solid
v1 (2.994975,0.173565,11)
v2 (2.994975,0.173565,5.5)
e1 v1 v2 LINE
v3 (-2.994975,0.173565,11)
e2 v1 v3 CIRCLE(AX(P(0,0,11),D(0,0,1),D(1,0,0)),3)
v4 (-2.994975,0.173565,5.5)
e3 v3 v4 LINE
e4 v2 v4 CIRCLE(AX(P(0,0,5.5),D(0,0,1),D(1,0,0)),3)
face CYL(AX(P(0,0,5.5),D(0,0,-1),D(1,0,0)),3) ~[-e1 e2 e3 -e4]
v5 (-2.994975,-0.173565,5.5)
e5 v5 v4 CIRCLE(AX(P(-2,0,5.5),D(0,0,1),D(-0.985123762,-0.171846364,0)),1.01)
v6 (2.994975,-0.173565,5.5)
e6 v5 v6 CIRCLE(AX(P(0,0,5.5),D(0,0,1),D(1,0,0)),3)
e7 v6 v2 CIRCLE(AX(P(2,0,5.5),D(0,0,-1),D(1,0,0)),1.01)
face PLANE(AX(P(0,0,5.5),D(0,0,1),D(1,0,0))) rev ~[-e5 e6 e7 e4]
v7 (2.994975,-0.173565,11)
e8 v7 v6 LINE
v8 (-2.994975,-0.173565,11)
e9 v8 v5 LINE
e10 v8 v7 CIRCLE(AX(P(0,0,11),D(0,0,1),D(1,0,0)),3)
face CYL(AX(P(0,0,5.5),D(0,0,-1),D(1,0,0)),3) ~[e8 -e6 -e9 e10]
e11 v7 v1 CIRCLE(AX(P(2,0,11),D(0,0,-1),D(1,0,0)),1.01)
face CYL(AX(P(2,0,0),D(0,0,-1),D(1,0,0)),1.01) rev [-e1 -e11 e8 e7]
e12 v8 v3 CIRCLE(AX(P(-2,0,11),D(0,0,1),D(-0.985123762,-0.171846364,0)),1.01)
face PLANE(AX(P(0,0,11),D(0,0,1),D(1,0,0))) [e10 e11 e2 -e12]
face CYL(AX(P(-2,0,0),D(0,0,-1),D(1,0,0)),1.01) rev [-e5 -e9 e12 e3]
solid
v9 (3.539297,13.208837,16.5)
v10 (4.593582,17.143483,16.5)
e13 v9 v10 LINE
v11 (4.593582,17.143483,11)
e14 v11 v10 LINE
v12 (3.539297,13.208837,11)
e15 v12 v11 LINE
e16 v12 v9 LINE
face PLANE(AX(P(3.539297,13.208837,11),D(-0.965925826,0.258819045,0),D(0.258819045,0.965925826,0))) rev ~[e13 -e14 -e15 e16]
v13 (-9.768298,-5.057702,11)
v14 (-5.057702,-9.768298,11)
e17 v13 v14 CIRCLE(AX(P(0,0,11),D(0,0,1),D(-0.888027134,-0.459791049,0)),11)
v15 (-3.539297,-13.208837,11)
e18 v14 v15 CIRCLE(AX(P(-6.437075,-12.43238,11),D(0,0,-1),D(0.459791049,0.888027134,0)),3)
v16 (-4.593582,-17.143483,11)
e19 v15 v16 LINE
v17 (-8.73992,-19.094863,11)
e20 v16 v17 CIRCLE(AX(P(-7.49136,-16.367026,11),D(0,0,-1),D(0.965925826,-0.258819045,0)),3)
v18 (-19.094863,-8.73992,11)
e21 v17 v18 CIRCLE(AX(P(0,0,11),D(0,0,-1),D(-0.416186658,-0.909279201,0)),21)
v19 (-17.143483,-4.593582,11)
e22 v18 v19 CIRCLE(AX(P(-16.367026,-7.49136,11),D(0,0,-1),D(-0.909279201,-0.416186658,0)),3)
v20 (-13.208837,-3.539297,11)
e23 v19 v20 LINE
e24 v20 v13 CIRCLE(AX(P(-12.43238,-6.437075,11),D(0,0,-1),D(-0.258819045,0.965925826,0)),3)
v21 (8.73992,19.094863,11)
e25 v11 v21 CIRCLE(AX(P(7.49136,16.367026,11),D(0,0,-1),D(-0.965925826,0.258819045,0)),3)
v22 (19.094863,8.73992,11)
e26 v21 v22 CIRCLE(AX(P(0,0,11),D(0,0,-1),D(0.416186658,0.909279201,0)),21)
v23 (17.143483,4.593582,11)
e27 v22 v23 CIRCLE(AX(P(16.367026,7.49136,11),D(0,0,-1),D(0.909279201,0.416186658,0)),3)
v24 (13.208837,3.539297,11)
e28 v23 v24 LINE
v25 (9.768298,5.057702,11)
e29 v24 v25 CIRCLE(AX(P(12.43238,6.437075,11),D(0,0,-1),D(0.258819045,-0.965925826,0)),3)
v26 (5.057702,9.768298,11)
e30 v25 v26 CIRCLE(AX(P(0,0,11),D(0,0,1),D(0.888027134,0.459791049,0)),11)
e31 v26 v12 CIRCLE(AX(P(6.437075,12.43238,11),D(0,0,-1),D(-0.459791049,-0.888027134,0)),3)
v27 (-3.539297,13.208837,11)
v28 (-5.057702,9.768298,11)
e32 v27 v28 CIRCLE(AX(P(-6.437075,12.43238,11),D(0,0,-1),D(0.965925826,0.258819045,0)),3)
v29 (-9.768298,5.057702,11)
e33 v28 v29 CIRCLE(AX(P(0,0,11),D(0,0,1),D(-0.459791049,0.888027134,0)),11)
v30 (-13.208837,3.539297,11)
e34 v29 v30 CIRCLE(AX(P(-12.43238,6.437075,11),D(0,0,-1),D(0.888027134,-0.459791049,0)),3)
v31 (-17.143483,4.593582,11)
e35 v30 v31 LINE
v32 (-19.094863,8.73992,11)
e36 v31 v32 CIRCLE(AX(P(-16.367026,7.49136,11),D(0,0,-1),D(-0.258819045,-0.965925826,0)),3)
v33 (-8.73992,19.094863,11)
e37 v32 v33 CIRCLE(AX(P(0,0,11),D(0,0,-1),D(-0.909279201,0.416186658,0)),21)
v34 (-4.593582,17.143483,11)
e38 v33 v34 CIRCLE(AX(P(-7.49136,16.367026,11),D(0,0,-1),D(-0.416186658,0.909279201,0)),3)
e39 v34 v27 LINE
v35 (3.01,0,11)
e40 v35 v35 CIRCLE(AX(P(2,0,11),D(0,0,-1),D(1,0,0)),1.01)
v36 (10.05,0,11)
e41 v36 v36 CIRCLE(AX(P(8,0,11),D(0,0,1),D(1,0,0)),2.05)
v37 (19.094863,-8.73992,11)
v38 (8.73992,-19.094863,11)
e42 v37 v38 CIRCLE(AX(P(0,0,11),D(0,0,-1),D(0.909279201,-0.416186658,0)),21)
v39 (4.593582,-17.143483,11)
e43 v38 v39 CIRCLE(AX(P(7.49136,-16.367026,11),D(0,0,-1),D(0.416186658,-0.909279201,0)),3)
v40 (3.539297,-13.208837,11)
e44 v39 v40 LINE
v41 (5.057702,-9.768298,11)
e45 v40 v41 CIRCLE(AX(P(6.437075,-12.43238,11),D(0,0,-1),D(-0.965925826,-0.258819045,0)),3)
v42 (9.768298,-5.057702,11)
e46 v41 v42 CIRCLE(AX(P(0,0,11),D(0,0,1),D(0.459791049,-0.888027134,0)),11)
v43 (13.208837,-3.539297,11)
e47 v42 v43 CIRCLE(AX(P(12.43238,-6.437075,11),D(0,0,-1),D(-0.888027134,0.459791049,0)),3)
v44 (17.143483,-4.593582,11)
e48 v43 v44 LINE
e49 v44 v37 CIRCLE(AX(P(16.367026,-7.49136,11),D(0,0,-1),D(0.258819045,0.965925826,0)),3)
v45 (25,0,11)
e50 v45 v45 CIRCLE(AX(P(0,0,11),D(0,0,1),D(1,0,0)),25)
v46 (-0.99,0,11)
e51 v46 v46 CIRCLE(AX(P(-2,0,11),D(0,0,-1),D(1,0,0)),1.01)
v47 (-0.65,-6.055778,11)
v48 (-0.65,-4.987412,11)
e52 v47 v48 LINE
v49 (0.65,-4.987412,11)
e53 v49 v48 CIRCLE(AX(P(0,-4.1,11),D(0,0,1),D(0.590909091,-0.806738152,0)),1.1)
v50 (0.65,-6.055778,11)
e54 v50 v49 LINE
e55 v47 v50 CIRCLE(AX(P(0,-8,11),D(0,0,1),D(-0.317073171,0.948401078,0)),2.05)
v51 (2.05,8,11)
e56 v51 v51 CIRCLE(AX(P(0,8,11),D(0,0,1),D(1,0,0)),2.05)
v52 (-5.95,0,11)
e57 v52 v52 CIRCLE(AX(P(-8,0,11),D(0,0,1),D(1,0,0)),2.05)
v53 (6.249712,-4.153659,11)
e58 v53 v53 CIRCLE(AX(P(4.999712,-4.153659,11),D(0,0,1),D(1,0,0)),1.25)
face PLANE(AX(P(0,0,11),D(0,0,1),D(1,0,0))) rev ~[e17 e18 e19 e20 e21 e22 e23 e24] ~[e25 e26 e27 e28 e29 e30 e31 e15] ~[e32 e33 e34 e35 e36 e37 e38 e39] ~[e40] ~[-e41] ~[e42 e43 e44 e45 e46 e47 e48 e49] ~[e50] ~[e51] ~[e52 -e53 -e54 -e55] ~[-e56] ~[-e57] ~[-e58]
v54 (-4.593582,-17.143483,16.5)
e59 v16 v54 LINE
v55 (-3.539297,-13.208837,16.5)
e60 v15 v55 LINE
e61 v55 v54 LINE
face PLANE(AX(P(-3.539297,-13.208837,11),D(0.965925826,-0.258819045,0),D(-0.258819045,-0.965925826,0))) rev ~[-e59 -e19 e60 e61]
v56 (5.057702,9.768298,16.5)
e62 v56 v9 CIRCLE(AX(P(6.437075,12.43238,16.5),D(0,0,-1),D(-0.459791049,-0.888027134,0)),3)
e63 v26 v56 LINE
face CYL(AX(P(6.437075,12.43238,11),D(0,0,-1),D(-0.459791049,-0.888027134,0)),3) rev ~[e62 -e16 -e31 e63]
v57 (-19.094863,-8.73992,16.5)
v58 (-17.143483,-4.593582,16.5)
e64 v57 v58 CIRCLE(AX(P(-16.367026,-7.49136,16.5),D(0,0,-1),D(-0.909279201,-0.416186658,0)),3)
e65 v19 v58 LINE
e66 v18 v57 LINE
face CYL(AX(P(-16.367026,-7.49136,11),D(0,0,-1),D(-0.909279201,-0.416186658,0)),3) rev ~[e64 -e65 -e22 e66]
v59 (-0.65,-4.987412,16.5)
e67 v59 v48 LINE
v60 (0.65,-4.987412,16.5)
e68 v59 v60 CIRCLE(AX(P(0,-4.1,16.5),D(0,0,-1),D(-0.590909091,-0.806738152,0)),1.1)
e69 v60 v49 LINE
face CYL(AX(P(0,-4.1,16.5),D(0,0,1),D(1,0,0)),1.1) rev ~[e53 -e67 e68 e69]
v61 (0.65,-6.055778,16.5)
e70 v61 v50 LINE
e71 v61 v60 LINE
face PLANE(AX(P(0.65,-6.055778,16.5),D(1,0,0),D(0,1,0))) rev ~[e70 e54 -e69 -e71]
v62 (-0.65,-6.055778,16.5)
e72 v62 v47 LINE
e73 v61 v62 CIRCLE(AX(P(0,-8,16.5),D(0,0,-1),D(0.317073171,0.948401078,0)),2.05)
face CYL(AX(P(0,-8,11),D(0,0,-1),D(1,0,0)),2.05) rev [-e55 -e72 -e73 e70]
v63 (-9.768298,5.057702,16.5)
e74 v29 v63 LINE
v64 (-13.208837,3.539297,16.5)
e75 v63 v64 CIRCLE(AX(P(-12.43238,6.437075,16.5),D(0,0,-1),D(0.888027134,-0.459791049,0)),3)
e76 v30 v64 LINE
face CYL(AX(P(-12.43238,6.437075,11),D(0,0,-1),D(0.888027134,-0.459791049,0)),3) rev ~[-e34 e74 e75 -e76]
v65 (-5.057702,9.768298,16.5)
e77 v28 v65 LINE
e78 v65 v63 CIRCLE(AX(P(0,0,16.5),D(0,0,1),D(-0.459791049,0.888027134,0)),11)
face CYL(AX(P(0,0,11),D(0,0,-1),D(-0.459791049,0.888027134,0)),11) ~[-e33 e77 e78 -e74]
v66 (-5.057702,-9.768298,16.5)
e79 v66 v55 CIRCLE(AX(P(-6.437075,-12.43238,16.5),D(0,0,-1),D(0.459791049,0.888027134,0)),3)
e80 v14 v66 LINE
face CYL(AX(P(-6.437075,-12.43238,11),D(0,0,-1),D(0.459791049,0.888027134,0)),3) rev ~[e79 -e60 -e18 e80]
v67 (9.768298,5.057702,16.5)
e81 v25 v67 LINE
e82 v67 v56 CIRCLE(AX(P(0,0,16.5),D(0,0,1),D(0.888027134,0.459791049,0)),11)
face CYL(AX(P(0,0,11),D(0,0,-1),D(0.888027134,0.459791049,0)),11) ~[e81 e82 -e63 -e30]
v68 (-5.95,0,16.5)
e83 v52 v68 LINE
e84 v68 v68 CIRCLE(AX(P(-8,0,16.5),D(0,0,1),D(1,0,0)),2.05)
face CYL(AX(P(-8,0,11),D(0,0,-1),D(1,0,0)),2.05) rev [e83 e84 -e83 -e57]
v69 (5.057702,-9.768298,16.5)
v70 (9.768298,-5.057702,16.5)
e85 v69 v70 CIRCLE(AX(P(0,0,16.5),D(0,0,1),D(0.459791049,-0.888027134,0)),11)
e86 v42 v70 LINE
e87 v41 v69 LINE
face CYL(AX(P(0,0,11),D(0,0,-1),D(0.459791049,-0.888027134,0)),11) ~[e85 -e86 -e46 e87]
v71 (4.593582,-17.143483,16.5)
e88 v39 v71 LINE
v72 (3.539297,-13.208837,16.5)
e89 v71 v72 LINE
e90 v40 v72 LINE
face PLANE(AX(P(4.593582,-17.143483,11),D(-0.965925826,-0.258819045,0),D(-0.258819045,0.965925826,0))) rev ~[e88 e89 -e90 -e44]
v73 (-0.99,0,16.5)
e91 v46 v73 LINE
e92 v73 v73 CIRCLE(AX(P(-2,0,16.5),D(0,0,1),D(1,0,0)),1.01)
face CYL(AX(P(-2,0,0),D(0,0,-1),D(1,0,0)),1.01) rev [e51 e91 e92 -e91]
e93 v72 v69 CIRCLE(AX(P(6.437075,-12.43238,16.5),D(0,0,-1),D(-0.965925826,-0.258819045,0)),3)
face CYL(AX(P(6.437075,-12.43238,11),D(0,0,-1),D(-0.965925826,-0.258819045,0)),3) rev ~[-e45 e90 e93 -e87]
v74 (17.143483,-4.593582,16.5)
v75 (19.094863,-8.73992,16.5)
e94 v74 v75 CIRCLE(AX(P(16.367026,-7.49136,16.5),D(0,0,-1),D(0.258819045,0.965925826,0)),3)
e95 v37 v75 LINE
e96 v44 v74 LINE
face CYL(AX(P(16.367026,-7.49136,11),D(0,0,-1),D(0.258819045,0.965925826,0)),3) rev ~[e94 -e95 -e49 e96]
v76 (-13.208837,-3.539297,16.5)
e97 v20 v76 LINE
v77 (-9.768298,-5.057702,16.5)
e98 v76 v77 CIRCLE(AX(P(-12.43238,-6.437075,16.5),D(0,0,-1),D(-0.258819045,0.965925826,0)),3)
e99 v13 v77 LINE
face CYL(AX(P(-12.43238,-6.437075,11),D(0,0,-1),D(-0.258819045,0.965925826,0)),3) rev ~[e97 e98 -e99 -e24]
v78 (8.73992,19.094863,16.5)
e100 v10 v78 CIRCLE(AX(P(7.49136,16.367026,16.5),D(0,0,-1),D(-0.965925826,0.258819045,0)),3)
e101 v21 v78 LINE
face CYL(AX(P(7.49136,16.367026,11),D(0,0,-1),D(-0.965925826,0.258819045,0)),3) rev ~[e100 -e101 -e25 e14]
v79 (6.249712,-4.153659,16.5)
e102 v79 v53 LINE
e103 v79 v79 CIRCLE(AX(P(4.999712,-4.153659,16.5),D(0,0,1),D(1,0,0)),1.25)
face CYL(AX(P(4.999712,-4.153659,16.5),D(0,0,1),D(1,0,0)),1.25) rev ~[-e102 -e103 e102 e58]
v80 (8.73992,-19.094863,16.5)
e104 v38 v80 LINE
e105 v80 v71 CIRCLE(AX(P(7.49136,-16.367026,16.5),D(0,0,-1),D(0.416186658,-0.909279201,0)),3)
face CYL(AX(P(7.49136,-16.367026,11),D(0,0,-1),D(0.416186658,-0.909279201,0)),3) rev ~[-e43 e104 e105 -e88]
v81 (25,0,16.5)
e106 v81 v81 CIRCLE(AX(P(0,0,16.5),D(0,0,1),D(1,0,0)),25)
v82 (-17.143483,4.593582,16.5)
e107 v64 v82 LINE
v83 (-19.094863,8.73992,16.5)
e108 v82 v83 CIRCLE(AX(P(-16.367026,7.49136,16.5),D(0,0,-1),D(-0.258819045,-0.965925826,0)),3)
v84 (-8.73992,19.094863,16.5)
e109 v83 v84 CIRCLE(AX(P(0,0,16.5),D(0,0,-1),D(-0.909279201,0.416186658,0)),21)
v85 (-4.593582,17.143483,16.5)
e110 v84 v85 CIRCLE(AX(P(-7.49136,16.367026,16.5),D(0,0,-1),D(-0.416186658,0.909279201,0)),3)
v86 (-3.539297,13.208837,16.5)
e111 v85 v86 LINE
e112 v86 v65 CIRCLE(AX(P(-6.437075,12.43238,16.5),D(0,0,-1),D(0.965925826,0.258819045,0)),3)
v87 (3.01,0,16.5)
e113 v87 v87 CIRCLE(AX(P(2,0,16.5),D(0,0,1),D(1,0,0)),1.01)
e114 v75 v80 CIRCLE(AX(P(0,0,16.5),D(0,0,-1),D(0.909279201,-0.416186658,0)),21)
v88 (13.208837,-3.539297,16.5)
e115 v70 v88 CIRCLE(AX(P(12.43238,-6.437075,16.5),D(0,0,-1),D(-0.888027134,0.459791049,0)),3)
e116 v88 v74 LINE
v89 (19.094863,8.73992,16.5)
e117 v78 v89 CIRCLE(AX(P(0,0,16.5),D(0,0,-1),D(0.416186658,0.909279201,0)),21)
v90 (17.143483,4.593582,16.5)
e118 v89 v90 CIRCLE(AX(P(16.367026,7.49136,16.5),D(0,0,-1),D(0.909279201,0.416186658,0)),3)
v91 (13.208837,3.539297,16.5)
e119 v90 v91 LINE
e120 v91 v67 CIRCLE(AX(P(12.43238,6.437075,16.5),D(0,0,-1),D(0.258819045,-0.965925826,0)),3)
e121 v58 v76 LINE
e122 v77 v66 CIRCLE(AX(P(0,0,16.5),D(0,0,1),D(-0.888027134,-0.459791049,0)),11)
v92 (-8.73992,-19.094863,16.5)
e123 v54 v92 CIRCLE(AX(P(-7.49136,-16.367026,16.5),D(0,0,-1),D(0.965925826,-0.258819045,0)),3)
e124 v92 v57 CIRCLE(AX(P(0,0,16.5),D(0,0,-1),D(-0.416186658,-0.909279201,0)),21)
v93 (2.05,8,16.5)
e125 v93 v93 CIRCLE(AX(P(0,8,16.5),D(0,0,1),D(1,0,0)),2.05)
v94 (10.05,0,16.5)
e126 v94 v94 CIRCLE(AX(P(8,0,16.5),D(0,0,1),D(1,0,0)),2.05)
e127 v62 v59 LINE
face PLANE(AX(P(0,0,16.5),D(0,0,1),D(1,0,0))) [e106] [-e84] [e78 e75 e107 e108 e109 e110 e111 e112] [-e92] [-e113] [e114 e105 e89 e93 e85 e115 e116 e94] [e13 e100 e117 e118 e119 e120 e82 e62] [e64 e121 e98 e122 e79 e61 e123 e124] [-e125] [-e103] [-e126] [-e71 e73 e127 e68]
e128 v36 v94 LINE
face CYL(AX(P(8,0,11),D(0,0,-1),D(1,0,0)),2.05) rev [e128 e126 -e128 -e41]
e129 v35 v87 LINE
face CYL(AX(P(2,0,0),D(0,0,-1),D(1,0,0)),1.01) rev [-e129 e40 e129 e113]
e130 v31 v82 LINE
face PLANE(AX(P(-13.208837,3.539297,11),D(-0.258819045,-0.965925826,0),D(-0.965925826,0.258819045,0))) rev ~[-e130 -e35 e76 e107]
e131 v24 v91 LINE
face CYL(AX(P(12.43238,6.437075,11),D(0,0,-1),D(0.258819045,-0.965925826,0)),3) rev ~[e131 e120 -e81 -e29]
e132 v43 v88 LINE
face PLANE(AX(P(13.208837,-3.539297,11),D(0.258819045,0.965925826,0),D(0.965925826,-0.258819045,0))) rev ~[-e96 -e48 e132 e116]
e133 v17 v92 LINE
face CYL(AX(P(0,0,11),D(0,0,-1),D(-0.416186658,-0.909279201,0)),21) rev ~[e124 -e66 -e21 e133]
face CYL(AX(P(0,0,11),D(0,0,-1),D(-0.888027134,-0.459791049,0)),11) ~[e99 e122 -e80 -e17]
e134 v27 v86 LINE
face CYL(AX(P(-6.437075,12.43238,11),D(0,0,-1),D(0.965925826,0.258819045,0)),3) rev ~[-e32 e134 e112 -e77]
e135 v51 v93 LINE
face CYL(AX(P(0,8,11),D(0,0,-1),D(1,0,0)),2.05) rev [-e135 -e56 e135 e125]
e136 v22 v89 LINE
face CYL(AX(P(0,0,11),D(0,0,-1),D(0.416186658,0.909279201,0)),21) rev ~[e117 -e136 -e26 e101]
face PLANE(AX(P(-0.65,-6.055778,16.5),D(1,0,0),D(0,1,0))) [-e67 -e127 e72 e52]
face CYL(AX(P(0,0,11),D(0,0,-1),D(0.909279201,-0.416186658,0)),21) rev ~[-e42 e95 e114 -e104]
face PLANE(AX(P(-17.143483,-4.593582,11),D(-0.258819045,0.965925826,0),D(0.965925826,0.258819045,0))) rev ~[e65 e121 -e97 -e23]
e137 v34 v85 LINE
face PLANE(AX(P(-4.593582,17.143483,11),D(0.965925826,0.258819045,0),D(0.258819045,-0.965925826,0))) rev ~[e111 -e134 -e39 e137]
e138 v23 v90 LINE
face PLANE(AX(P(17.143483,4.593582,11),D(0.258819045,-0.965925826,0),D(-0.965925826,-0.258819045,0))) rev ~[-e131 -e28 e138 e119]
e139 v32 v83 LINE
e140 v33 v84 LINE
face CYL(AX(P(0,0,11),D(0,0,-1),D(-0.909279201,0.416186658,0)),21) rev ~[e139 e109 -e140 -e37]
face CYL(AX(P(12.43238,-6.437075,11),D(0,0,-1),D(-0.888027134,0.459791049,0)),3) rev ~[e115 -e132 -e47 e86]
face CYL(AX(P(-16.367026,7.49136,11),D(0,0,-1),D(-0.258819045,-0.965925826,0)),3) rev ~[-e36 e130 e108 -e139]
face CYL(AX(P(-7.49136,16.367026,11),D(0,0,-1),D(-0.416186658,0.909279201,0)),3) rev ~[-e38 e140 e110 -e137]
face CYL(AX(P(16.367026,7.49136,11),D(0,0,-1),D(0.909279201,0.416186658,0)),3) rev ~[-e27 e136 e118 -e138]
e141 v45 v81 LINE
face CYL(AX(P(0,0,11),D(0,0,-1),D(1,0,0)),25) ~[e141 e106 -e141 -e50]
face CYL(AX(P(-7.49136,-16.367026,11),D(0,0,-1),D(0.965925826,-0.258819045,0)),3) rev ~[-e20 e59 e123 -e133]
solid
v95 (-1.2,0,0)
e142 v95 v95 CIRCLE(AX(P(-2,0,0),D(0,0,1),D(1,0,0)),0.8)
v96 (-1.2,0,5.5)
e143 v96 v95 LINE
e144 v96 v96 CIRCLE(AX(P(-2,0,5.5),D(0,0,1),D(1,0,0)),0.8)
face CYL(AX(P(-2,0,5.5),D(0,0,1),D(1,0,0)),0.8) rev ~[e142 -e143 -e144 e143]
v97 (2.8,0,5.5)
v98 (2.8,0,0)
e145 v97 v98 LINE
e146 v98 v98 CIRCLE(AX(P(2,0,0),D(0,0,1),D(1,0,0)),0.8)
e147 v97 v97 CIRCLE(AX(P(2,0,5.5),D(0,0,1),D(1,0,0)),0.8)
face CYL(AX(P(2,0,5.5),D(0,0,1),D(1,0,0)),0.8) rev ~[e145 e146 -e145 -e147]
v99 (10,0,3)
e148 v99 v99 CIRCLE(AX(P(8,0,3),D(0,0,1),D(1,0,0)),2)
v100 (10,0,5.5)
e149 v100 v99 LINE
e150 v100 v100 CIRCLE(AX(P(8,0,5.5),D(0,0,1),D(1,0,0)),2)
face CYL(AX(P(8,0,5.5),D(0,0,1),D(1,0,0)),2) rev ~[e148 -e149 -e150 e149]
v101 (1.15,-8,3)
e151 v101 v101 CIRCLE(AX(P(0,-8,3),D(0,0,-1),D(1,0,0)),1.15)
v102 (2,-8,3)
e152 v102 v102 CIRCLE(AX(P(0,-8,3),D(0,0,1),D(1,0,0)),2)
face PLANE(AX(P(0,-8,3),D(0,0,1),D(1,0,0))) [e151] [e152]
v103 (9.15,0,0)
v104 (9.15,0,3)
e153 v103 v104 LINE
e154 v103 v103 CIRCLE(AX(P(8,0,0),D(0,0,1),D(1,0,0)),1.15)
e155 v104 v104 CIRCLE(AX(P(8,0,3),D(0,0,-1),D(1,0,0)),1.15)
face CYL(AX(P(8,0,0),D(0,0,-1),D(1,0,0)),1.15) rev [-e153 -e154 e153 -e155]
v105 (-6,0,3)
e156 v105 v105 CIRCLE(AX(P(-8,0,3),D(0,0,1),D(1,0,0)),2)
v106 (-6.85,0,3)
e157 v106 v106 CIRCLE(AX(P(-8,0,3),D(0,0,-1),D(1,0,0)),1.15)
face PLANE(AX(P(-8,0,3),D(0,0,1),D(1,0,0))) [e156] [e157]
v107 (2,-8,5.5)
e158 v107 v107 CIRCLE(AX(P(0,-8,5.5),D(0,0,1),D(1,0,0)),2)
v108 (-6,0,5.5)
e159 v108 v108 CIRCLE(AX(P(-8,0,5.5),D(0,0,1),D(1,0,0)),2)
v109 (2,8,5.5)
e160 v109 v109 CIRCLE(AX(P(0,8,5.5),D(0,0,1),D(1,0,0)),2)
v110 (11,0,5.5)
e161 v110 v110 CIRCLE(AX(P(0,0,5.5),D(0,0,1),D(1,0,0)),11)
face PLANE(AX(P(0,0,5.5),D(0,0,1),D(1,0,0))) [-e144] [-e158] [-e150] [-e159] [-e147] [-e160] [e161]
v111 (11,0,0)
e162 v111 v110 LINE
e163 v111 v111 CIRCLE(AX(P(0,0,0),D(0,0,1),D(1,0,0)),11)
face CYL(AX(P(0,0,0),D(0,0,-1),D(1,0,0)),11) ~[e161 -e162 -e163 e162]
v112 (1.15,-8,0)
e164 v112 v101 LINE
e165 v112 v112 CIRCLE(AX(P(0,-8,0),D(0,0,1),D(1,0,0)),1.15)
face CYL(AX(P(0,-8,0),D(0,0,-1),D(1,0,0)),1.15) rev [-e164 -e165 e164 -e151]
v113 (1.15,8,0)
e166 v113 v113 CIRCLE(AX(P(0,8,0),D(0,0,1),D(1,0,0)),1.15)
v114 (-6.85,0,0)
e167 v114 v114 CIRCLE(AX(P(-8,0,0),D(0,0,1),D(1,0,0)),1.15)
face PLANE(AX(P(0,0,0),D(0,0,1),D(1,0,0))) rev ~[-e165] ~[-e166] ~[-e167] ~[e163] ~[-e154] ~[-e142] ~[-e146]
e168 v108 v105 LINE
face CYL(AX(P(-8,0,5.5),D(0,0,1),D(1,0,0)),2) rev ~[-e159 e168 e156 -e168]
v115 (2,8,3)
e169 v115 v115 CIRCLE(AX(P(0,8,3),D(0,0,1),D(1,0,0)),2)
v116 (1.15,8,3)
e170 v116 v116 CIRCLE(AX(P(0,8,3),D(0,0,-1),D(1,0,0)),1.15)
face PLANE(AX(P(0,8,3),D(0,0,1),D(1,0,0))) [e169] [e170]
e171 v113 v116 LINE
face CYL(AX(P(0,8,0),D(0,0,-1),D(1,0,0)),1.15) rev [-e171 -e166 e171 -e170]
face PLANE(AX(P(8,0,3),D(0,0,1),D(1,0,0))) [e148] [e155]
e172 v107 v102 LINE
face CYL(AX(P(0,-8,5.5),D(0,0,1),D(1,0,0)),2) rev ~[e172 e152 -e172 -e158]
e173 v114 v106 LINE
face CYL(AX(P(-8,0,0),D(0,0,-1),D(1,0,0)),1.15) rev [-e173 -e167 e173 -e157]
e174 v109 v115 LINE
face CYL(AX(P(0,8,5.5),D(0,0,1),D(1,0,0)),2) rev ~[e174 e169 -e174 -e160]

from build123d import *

# Parameters (mm, degrees)
SKETCH_1_R          = 11
SKETCH_1_R_2        = 1.15
EXTRUDE_1_DEPTH     = 5.5
SKETCH_2_R          = 3
EXTRUDE_2_DEPTH     = 5.5
SKETCH_3_R          = 25
SKETCH_3_R_2        = 2.05
EXTRUDE_3_DEPTH     = 5.5
CUT_EXTRUDE_START   = -16.5
SKETCH_8_R          = 1.01
CUT_EXTRUDE_4_DEPTH = 16.5
SKETCH_9_R          = 0.8
CUT_EXTRUDE_5_DEPTH = 5.5
SKETCH_12_R         = 2
CUT_EXTRUDE_7_DEPTH = 2.5
SKETCH_13_R         = 1.1
CUT_EXTRUDE_8_DEPTH = 5.5
SKETCH_14_R         = 1.25
SKETCH_14_W         = 1.3
SKETCH_14_H         = 1.068365823
CUT_EXTRUDE_9_DEPTH = 5.5


with BuildPart() as part:
    # ｽｹｯﾁ1 → ﾎﾞｽ - 押し出し1 (new body)
    with BuildSketch(Plane.XY):
        Circle(SKETCH_1_R)
        with Locations((-8, 0)):
            Circle(SKETCH_1_R_2, mode=Mode.SUBTRACT)
        with Locations((0, 8)):
            Circle(SKETCH_1_R_2, mode=Mode.SUBTRACT)
        with Locations((8, 0)):
            Circle(SKETCH_1_R_2, mode=Mode.SUBTRACT)
        with Locations((0, -8)):
            Circle(SKETCH_1_R_2, mode=Mode.SUBTRACT)
    extrude(amount=EXTRUDE_1_DEPTH)

    # ｽｹｯﾁ9 → ｶｯﾄ - 押し出し5 (cut)
    with BuildSketch(Plane.XY.offset(5.5)):
        with Locations((-2, 0)):
            Circle(SKETCH_9_R)
        with Locations((2, 0)):
            Circle(SKETCH_9_R)
    extrude(amount=-CUT_EXTRUDE_5_DEPTH, mode=Mode.SUBTRACT)

    # ｽｹｯﾁ12 → ｶｯﾄ - 押し出し7 (cut)
    with BuildSketch(Plane.XY.offset(5.5)):
        with Locations((-8, 0)):
            Circle(SKETCH_12_R)
        with Locations((0, 8)):
            Circle(SKETCH_12_R)
        with Locations((8, 0)):
            Circle(SKETCH_12_R)
        with Locations((0, -8)):
            Circle(SKETCH_12_R)
    extrude(amount=-CUT_EXTRUDE_7_DEPTH, mode=Mode.SUBTRACT)


with BuildPart() as body_2:
    # ｽｹｯﾁ2 → ﾎﾞｽ - 押し出し2 (new body)
    with BuildSketch(Plane.XY.offset(5.5)):
        Circle(SKETCH_2_R)
    extrude(amount=EXTRUDE_2_DEPTH)


with BuildPart() as body_3:
    # ｽｹｯﾁ3 → ﾎﾞｽ - 押し出し3 (new body)
    with BuildSketch(Plane.XY.offset(11)):
        Circle(SKETCH_3_R)
        with Locations((-8, 0)):
            Circle(SKETCH_3_R_2, mode=Mode.SUBTRACT)
        with Locations((0, 8)):
            Circle(SKETCH_3_R_2, mode=Mode.SUBTRACT)
        with Locations((8, 0)):
            Circle(SKETCH_3_R_2, mode=Mode.SUBTRACT)
        with Locations((0, -8)):
            Circle(SKETCH_3_R_2, mode=Mode.SUBTRACT)
        with BuildLine():
            Line((3.539297211, 13.208837014), (4.593582361, 17.143482759))
            ThreePointArc((4.593582361, 17.143482759), (6.213881453, 19.081440656), (8.739919813, 19.094863227))
            ThreePointArc((8.739919813, 19.094863227), (14.849242405, 14.849242405), (19.094863227, 8.739919813))
            ThreePointArc((19.094863227, 8.739919813), (19.081440656, 6.213881453), (17.143482759, 4.593582361))
            Line((17.143482759, 4.593582361), (13.208837014, 3.539297211))
            ThreePointArc((13.208837014, 3.539297211), (11.221112248, 3.692474404), (9.768298476, 5.057701542))
            ThreePointArc((9.768298476, 5.057701542), (7.778174593, 7.778174593), (5.057701542, 9.768298476))
            ThreePointArc((5.057701542, 9.768298476), (3.692474404, 11.221112248), (3.539297211, 13.208837014))
        make_face(mode=Mode.SUBTRACT)
        with BuildLine():
            Line((13.208837014, -3.539297211), (17.143482759, -4.593582361))
            ThreePointArc((17.143482759, -4.593582361), (19.081440656, -6.213881453), (19.094863227, -8.739919813))
            ThreePointArc((19.094863227, -8.739919813), (14.849242405, -14.849242405), (8.739919813, -19.094863227))
            ThreePointArc((8.739919813, -19.094863227), (6.213881453, -19.081440656), (4.593582361, -17.143482759))
            Line((4.593582361, -17.143482759), (3.539297211, -13.208837014))
            ThreePointArc((3.539297211, -13.208837014), (3.692474404, -11.221112248), (5.057701542, -9.768298476))
            ThreePointArc((5.057701542, -9.768298476), (7.778174593, -7.778174593), (9.768298476, -5.057701542))
            ThreePointArc((9.768298476, -5.057701542), (11.221112248, -3.692474404), (13.208837014, -3.539297211))
        make_face(mode=Mode.SUBTRACT)
        with BuildLine():
            Line((-3.539297211, -13.208837014), (-4.593582361, -17.143482759))
            ThreePointArc((-4.593582361, -17.143482759), (-6.213881453, -19.081440656), (-8.739919813, -19.094863227))
            ThreePointArc((-8.739919813, -19.094863227), (-14.849242405, -14.849242405), (-19.094863227, -8.739919813))
            ThreePointArc((-19.094863227, -8.739919813), (-19.081440656, -6.213881453), (-17.143482759, -4.593582361))
            Line((-17.143482759, -4.593582361), (-13.208837014, -3.539297211))
            ThreePointArc((-13.208837014, -3.539297211), (-11.221112248, -3.692474404), (-9.768298476, -5.057701542))
            ThreePointArc((-9.768298476, -5.057701542), (-7.778174593, -7.778174593), (-5.057701542, -9.768298476))
            ThreePointArc((-5.057701542, -9.768298476), (-3.692474404, -11.221112248), (-3.539297211, -13.208837014))
        make_face(mode=Mode.SUBTRACT)
        with BuildLine():
            Line((-13.208837014, 3.539297211), (-17.143482759, 4.593582361))
            ThreePointArc((-17.143482759, 4.593582361), (-19.081440656, 6.213881453), (-19.094863227, 8.739919813))
            ThreePointArc((-19.094863227, 8.739919813), (-14.849242405, 14.849242405), (-8.739919813, 19.094863227))
            ThreePointArc((-8.739919813, 19.094863227), (-6.213881453, 19.081440656), (-4.593582361, 17.143482759))
            Line((-4.593582361, 17.143482759), (-3.539297211, 13.208837014))
            ThreePointArc((-3.539297211, 13.208837014), (-3.692474404, 11.221112248), (-5.057701542, 9.768298476))
            ThreePointArc((-5.057701542, 9.768298476), (-7.778174593, 7.778174593), (-9.768298476, 5.057701542))
            ThreePointArc((-9.768298476, 5.057701542), (-11.221112248, 3.692474404), (-13.208837014, 3.539297211))
        make_face(mode=Mode.SUBTRACT)
    extrude(amount=EXTRUDE_3_DEPTH)


with BuildPart() as cut_extrude_4_tool:
    # ｽｹｯﾁ8 → ｶｯﾄ - 押し出し4 (new body)
    with BuildSketch(Plane.XY.offset(16.5).offset(CUT_EXTRUDE_START)):
        with Locations((-2, 0)):
            Circle(SKETCH_8_R)
        with Locations((2, 0)):
            Circle(SKETCH_8_R)
    extrude(amount=CUT_EXTRUDE_4_DEPTH)


with BuildPart() as body_2_1:
    add(body_2.part)

    # ｶｯﾄ - 押し出し4: cut by cut_extrude_4_tool
    add(cut_extrude_4_tool.part, mode=Mode.SUBTRACT)


with BuildPart() as body_3_1:
    add(body_3.part)

    # ｶｯﾄ - 押し出し4: cut by cut_extrude_4_tool
    add(cut_extrude_4_tool.part, mode=Mode.SUBTRACT)

    # ｽｹｯﾁ13 → ｶｯﾄ - 押し出し8 (cut)
    with BuildSketch(Plane.XY.offset(16.5)):
        with Locations((0, -4.1)):
            Circle(SKETCH_13_R)
    extrude(amount=-CUT_EXTRUDE_8_DEPTH, mode=Mode.SUBTRACT)

    # ｽｹｯﾁ14 → ｶｯﾄ - 押し出し9 (cut)
    with BuildSketch(Plane.XY.offset(16.5)):
        with Locations((4.999712068, -4.153658537)):
            Circle(SKETCH_14_R)
        with Locations((0, -5.521594879)):
            Rectangle(SKETCH_14_W, SKETCH_14_H)
    extrude(amount=-CUT_EXTRUDE_9_DEPTH, mode=Mode.SUBTRACT)


solid = Compound([part.part, body_2_1.part, body_3_1.part])
